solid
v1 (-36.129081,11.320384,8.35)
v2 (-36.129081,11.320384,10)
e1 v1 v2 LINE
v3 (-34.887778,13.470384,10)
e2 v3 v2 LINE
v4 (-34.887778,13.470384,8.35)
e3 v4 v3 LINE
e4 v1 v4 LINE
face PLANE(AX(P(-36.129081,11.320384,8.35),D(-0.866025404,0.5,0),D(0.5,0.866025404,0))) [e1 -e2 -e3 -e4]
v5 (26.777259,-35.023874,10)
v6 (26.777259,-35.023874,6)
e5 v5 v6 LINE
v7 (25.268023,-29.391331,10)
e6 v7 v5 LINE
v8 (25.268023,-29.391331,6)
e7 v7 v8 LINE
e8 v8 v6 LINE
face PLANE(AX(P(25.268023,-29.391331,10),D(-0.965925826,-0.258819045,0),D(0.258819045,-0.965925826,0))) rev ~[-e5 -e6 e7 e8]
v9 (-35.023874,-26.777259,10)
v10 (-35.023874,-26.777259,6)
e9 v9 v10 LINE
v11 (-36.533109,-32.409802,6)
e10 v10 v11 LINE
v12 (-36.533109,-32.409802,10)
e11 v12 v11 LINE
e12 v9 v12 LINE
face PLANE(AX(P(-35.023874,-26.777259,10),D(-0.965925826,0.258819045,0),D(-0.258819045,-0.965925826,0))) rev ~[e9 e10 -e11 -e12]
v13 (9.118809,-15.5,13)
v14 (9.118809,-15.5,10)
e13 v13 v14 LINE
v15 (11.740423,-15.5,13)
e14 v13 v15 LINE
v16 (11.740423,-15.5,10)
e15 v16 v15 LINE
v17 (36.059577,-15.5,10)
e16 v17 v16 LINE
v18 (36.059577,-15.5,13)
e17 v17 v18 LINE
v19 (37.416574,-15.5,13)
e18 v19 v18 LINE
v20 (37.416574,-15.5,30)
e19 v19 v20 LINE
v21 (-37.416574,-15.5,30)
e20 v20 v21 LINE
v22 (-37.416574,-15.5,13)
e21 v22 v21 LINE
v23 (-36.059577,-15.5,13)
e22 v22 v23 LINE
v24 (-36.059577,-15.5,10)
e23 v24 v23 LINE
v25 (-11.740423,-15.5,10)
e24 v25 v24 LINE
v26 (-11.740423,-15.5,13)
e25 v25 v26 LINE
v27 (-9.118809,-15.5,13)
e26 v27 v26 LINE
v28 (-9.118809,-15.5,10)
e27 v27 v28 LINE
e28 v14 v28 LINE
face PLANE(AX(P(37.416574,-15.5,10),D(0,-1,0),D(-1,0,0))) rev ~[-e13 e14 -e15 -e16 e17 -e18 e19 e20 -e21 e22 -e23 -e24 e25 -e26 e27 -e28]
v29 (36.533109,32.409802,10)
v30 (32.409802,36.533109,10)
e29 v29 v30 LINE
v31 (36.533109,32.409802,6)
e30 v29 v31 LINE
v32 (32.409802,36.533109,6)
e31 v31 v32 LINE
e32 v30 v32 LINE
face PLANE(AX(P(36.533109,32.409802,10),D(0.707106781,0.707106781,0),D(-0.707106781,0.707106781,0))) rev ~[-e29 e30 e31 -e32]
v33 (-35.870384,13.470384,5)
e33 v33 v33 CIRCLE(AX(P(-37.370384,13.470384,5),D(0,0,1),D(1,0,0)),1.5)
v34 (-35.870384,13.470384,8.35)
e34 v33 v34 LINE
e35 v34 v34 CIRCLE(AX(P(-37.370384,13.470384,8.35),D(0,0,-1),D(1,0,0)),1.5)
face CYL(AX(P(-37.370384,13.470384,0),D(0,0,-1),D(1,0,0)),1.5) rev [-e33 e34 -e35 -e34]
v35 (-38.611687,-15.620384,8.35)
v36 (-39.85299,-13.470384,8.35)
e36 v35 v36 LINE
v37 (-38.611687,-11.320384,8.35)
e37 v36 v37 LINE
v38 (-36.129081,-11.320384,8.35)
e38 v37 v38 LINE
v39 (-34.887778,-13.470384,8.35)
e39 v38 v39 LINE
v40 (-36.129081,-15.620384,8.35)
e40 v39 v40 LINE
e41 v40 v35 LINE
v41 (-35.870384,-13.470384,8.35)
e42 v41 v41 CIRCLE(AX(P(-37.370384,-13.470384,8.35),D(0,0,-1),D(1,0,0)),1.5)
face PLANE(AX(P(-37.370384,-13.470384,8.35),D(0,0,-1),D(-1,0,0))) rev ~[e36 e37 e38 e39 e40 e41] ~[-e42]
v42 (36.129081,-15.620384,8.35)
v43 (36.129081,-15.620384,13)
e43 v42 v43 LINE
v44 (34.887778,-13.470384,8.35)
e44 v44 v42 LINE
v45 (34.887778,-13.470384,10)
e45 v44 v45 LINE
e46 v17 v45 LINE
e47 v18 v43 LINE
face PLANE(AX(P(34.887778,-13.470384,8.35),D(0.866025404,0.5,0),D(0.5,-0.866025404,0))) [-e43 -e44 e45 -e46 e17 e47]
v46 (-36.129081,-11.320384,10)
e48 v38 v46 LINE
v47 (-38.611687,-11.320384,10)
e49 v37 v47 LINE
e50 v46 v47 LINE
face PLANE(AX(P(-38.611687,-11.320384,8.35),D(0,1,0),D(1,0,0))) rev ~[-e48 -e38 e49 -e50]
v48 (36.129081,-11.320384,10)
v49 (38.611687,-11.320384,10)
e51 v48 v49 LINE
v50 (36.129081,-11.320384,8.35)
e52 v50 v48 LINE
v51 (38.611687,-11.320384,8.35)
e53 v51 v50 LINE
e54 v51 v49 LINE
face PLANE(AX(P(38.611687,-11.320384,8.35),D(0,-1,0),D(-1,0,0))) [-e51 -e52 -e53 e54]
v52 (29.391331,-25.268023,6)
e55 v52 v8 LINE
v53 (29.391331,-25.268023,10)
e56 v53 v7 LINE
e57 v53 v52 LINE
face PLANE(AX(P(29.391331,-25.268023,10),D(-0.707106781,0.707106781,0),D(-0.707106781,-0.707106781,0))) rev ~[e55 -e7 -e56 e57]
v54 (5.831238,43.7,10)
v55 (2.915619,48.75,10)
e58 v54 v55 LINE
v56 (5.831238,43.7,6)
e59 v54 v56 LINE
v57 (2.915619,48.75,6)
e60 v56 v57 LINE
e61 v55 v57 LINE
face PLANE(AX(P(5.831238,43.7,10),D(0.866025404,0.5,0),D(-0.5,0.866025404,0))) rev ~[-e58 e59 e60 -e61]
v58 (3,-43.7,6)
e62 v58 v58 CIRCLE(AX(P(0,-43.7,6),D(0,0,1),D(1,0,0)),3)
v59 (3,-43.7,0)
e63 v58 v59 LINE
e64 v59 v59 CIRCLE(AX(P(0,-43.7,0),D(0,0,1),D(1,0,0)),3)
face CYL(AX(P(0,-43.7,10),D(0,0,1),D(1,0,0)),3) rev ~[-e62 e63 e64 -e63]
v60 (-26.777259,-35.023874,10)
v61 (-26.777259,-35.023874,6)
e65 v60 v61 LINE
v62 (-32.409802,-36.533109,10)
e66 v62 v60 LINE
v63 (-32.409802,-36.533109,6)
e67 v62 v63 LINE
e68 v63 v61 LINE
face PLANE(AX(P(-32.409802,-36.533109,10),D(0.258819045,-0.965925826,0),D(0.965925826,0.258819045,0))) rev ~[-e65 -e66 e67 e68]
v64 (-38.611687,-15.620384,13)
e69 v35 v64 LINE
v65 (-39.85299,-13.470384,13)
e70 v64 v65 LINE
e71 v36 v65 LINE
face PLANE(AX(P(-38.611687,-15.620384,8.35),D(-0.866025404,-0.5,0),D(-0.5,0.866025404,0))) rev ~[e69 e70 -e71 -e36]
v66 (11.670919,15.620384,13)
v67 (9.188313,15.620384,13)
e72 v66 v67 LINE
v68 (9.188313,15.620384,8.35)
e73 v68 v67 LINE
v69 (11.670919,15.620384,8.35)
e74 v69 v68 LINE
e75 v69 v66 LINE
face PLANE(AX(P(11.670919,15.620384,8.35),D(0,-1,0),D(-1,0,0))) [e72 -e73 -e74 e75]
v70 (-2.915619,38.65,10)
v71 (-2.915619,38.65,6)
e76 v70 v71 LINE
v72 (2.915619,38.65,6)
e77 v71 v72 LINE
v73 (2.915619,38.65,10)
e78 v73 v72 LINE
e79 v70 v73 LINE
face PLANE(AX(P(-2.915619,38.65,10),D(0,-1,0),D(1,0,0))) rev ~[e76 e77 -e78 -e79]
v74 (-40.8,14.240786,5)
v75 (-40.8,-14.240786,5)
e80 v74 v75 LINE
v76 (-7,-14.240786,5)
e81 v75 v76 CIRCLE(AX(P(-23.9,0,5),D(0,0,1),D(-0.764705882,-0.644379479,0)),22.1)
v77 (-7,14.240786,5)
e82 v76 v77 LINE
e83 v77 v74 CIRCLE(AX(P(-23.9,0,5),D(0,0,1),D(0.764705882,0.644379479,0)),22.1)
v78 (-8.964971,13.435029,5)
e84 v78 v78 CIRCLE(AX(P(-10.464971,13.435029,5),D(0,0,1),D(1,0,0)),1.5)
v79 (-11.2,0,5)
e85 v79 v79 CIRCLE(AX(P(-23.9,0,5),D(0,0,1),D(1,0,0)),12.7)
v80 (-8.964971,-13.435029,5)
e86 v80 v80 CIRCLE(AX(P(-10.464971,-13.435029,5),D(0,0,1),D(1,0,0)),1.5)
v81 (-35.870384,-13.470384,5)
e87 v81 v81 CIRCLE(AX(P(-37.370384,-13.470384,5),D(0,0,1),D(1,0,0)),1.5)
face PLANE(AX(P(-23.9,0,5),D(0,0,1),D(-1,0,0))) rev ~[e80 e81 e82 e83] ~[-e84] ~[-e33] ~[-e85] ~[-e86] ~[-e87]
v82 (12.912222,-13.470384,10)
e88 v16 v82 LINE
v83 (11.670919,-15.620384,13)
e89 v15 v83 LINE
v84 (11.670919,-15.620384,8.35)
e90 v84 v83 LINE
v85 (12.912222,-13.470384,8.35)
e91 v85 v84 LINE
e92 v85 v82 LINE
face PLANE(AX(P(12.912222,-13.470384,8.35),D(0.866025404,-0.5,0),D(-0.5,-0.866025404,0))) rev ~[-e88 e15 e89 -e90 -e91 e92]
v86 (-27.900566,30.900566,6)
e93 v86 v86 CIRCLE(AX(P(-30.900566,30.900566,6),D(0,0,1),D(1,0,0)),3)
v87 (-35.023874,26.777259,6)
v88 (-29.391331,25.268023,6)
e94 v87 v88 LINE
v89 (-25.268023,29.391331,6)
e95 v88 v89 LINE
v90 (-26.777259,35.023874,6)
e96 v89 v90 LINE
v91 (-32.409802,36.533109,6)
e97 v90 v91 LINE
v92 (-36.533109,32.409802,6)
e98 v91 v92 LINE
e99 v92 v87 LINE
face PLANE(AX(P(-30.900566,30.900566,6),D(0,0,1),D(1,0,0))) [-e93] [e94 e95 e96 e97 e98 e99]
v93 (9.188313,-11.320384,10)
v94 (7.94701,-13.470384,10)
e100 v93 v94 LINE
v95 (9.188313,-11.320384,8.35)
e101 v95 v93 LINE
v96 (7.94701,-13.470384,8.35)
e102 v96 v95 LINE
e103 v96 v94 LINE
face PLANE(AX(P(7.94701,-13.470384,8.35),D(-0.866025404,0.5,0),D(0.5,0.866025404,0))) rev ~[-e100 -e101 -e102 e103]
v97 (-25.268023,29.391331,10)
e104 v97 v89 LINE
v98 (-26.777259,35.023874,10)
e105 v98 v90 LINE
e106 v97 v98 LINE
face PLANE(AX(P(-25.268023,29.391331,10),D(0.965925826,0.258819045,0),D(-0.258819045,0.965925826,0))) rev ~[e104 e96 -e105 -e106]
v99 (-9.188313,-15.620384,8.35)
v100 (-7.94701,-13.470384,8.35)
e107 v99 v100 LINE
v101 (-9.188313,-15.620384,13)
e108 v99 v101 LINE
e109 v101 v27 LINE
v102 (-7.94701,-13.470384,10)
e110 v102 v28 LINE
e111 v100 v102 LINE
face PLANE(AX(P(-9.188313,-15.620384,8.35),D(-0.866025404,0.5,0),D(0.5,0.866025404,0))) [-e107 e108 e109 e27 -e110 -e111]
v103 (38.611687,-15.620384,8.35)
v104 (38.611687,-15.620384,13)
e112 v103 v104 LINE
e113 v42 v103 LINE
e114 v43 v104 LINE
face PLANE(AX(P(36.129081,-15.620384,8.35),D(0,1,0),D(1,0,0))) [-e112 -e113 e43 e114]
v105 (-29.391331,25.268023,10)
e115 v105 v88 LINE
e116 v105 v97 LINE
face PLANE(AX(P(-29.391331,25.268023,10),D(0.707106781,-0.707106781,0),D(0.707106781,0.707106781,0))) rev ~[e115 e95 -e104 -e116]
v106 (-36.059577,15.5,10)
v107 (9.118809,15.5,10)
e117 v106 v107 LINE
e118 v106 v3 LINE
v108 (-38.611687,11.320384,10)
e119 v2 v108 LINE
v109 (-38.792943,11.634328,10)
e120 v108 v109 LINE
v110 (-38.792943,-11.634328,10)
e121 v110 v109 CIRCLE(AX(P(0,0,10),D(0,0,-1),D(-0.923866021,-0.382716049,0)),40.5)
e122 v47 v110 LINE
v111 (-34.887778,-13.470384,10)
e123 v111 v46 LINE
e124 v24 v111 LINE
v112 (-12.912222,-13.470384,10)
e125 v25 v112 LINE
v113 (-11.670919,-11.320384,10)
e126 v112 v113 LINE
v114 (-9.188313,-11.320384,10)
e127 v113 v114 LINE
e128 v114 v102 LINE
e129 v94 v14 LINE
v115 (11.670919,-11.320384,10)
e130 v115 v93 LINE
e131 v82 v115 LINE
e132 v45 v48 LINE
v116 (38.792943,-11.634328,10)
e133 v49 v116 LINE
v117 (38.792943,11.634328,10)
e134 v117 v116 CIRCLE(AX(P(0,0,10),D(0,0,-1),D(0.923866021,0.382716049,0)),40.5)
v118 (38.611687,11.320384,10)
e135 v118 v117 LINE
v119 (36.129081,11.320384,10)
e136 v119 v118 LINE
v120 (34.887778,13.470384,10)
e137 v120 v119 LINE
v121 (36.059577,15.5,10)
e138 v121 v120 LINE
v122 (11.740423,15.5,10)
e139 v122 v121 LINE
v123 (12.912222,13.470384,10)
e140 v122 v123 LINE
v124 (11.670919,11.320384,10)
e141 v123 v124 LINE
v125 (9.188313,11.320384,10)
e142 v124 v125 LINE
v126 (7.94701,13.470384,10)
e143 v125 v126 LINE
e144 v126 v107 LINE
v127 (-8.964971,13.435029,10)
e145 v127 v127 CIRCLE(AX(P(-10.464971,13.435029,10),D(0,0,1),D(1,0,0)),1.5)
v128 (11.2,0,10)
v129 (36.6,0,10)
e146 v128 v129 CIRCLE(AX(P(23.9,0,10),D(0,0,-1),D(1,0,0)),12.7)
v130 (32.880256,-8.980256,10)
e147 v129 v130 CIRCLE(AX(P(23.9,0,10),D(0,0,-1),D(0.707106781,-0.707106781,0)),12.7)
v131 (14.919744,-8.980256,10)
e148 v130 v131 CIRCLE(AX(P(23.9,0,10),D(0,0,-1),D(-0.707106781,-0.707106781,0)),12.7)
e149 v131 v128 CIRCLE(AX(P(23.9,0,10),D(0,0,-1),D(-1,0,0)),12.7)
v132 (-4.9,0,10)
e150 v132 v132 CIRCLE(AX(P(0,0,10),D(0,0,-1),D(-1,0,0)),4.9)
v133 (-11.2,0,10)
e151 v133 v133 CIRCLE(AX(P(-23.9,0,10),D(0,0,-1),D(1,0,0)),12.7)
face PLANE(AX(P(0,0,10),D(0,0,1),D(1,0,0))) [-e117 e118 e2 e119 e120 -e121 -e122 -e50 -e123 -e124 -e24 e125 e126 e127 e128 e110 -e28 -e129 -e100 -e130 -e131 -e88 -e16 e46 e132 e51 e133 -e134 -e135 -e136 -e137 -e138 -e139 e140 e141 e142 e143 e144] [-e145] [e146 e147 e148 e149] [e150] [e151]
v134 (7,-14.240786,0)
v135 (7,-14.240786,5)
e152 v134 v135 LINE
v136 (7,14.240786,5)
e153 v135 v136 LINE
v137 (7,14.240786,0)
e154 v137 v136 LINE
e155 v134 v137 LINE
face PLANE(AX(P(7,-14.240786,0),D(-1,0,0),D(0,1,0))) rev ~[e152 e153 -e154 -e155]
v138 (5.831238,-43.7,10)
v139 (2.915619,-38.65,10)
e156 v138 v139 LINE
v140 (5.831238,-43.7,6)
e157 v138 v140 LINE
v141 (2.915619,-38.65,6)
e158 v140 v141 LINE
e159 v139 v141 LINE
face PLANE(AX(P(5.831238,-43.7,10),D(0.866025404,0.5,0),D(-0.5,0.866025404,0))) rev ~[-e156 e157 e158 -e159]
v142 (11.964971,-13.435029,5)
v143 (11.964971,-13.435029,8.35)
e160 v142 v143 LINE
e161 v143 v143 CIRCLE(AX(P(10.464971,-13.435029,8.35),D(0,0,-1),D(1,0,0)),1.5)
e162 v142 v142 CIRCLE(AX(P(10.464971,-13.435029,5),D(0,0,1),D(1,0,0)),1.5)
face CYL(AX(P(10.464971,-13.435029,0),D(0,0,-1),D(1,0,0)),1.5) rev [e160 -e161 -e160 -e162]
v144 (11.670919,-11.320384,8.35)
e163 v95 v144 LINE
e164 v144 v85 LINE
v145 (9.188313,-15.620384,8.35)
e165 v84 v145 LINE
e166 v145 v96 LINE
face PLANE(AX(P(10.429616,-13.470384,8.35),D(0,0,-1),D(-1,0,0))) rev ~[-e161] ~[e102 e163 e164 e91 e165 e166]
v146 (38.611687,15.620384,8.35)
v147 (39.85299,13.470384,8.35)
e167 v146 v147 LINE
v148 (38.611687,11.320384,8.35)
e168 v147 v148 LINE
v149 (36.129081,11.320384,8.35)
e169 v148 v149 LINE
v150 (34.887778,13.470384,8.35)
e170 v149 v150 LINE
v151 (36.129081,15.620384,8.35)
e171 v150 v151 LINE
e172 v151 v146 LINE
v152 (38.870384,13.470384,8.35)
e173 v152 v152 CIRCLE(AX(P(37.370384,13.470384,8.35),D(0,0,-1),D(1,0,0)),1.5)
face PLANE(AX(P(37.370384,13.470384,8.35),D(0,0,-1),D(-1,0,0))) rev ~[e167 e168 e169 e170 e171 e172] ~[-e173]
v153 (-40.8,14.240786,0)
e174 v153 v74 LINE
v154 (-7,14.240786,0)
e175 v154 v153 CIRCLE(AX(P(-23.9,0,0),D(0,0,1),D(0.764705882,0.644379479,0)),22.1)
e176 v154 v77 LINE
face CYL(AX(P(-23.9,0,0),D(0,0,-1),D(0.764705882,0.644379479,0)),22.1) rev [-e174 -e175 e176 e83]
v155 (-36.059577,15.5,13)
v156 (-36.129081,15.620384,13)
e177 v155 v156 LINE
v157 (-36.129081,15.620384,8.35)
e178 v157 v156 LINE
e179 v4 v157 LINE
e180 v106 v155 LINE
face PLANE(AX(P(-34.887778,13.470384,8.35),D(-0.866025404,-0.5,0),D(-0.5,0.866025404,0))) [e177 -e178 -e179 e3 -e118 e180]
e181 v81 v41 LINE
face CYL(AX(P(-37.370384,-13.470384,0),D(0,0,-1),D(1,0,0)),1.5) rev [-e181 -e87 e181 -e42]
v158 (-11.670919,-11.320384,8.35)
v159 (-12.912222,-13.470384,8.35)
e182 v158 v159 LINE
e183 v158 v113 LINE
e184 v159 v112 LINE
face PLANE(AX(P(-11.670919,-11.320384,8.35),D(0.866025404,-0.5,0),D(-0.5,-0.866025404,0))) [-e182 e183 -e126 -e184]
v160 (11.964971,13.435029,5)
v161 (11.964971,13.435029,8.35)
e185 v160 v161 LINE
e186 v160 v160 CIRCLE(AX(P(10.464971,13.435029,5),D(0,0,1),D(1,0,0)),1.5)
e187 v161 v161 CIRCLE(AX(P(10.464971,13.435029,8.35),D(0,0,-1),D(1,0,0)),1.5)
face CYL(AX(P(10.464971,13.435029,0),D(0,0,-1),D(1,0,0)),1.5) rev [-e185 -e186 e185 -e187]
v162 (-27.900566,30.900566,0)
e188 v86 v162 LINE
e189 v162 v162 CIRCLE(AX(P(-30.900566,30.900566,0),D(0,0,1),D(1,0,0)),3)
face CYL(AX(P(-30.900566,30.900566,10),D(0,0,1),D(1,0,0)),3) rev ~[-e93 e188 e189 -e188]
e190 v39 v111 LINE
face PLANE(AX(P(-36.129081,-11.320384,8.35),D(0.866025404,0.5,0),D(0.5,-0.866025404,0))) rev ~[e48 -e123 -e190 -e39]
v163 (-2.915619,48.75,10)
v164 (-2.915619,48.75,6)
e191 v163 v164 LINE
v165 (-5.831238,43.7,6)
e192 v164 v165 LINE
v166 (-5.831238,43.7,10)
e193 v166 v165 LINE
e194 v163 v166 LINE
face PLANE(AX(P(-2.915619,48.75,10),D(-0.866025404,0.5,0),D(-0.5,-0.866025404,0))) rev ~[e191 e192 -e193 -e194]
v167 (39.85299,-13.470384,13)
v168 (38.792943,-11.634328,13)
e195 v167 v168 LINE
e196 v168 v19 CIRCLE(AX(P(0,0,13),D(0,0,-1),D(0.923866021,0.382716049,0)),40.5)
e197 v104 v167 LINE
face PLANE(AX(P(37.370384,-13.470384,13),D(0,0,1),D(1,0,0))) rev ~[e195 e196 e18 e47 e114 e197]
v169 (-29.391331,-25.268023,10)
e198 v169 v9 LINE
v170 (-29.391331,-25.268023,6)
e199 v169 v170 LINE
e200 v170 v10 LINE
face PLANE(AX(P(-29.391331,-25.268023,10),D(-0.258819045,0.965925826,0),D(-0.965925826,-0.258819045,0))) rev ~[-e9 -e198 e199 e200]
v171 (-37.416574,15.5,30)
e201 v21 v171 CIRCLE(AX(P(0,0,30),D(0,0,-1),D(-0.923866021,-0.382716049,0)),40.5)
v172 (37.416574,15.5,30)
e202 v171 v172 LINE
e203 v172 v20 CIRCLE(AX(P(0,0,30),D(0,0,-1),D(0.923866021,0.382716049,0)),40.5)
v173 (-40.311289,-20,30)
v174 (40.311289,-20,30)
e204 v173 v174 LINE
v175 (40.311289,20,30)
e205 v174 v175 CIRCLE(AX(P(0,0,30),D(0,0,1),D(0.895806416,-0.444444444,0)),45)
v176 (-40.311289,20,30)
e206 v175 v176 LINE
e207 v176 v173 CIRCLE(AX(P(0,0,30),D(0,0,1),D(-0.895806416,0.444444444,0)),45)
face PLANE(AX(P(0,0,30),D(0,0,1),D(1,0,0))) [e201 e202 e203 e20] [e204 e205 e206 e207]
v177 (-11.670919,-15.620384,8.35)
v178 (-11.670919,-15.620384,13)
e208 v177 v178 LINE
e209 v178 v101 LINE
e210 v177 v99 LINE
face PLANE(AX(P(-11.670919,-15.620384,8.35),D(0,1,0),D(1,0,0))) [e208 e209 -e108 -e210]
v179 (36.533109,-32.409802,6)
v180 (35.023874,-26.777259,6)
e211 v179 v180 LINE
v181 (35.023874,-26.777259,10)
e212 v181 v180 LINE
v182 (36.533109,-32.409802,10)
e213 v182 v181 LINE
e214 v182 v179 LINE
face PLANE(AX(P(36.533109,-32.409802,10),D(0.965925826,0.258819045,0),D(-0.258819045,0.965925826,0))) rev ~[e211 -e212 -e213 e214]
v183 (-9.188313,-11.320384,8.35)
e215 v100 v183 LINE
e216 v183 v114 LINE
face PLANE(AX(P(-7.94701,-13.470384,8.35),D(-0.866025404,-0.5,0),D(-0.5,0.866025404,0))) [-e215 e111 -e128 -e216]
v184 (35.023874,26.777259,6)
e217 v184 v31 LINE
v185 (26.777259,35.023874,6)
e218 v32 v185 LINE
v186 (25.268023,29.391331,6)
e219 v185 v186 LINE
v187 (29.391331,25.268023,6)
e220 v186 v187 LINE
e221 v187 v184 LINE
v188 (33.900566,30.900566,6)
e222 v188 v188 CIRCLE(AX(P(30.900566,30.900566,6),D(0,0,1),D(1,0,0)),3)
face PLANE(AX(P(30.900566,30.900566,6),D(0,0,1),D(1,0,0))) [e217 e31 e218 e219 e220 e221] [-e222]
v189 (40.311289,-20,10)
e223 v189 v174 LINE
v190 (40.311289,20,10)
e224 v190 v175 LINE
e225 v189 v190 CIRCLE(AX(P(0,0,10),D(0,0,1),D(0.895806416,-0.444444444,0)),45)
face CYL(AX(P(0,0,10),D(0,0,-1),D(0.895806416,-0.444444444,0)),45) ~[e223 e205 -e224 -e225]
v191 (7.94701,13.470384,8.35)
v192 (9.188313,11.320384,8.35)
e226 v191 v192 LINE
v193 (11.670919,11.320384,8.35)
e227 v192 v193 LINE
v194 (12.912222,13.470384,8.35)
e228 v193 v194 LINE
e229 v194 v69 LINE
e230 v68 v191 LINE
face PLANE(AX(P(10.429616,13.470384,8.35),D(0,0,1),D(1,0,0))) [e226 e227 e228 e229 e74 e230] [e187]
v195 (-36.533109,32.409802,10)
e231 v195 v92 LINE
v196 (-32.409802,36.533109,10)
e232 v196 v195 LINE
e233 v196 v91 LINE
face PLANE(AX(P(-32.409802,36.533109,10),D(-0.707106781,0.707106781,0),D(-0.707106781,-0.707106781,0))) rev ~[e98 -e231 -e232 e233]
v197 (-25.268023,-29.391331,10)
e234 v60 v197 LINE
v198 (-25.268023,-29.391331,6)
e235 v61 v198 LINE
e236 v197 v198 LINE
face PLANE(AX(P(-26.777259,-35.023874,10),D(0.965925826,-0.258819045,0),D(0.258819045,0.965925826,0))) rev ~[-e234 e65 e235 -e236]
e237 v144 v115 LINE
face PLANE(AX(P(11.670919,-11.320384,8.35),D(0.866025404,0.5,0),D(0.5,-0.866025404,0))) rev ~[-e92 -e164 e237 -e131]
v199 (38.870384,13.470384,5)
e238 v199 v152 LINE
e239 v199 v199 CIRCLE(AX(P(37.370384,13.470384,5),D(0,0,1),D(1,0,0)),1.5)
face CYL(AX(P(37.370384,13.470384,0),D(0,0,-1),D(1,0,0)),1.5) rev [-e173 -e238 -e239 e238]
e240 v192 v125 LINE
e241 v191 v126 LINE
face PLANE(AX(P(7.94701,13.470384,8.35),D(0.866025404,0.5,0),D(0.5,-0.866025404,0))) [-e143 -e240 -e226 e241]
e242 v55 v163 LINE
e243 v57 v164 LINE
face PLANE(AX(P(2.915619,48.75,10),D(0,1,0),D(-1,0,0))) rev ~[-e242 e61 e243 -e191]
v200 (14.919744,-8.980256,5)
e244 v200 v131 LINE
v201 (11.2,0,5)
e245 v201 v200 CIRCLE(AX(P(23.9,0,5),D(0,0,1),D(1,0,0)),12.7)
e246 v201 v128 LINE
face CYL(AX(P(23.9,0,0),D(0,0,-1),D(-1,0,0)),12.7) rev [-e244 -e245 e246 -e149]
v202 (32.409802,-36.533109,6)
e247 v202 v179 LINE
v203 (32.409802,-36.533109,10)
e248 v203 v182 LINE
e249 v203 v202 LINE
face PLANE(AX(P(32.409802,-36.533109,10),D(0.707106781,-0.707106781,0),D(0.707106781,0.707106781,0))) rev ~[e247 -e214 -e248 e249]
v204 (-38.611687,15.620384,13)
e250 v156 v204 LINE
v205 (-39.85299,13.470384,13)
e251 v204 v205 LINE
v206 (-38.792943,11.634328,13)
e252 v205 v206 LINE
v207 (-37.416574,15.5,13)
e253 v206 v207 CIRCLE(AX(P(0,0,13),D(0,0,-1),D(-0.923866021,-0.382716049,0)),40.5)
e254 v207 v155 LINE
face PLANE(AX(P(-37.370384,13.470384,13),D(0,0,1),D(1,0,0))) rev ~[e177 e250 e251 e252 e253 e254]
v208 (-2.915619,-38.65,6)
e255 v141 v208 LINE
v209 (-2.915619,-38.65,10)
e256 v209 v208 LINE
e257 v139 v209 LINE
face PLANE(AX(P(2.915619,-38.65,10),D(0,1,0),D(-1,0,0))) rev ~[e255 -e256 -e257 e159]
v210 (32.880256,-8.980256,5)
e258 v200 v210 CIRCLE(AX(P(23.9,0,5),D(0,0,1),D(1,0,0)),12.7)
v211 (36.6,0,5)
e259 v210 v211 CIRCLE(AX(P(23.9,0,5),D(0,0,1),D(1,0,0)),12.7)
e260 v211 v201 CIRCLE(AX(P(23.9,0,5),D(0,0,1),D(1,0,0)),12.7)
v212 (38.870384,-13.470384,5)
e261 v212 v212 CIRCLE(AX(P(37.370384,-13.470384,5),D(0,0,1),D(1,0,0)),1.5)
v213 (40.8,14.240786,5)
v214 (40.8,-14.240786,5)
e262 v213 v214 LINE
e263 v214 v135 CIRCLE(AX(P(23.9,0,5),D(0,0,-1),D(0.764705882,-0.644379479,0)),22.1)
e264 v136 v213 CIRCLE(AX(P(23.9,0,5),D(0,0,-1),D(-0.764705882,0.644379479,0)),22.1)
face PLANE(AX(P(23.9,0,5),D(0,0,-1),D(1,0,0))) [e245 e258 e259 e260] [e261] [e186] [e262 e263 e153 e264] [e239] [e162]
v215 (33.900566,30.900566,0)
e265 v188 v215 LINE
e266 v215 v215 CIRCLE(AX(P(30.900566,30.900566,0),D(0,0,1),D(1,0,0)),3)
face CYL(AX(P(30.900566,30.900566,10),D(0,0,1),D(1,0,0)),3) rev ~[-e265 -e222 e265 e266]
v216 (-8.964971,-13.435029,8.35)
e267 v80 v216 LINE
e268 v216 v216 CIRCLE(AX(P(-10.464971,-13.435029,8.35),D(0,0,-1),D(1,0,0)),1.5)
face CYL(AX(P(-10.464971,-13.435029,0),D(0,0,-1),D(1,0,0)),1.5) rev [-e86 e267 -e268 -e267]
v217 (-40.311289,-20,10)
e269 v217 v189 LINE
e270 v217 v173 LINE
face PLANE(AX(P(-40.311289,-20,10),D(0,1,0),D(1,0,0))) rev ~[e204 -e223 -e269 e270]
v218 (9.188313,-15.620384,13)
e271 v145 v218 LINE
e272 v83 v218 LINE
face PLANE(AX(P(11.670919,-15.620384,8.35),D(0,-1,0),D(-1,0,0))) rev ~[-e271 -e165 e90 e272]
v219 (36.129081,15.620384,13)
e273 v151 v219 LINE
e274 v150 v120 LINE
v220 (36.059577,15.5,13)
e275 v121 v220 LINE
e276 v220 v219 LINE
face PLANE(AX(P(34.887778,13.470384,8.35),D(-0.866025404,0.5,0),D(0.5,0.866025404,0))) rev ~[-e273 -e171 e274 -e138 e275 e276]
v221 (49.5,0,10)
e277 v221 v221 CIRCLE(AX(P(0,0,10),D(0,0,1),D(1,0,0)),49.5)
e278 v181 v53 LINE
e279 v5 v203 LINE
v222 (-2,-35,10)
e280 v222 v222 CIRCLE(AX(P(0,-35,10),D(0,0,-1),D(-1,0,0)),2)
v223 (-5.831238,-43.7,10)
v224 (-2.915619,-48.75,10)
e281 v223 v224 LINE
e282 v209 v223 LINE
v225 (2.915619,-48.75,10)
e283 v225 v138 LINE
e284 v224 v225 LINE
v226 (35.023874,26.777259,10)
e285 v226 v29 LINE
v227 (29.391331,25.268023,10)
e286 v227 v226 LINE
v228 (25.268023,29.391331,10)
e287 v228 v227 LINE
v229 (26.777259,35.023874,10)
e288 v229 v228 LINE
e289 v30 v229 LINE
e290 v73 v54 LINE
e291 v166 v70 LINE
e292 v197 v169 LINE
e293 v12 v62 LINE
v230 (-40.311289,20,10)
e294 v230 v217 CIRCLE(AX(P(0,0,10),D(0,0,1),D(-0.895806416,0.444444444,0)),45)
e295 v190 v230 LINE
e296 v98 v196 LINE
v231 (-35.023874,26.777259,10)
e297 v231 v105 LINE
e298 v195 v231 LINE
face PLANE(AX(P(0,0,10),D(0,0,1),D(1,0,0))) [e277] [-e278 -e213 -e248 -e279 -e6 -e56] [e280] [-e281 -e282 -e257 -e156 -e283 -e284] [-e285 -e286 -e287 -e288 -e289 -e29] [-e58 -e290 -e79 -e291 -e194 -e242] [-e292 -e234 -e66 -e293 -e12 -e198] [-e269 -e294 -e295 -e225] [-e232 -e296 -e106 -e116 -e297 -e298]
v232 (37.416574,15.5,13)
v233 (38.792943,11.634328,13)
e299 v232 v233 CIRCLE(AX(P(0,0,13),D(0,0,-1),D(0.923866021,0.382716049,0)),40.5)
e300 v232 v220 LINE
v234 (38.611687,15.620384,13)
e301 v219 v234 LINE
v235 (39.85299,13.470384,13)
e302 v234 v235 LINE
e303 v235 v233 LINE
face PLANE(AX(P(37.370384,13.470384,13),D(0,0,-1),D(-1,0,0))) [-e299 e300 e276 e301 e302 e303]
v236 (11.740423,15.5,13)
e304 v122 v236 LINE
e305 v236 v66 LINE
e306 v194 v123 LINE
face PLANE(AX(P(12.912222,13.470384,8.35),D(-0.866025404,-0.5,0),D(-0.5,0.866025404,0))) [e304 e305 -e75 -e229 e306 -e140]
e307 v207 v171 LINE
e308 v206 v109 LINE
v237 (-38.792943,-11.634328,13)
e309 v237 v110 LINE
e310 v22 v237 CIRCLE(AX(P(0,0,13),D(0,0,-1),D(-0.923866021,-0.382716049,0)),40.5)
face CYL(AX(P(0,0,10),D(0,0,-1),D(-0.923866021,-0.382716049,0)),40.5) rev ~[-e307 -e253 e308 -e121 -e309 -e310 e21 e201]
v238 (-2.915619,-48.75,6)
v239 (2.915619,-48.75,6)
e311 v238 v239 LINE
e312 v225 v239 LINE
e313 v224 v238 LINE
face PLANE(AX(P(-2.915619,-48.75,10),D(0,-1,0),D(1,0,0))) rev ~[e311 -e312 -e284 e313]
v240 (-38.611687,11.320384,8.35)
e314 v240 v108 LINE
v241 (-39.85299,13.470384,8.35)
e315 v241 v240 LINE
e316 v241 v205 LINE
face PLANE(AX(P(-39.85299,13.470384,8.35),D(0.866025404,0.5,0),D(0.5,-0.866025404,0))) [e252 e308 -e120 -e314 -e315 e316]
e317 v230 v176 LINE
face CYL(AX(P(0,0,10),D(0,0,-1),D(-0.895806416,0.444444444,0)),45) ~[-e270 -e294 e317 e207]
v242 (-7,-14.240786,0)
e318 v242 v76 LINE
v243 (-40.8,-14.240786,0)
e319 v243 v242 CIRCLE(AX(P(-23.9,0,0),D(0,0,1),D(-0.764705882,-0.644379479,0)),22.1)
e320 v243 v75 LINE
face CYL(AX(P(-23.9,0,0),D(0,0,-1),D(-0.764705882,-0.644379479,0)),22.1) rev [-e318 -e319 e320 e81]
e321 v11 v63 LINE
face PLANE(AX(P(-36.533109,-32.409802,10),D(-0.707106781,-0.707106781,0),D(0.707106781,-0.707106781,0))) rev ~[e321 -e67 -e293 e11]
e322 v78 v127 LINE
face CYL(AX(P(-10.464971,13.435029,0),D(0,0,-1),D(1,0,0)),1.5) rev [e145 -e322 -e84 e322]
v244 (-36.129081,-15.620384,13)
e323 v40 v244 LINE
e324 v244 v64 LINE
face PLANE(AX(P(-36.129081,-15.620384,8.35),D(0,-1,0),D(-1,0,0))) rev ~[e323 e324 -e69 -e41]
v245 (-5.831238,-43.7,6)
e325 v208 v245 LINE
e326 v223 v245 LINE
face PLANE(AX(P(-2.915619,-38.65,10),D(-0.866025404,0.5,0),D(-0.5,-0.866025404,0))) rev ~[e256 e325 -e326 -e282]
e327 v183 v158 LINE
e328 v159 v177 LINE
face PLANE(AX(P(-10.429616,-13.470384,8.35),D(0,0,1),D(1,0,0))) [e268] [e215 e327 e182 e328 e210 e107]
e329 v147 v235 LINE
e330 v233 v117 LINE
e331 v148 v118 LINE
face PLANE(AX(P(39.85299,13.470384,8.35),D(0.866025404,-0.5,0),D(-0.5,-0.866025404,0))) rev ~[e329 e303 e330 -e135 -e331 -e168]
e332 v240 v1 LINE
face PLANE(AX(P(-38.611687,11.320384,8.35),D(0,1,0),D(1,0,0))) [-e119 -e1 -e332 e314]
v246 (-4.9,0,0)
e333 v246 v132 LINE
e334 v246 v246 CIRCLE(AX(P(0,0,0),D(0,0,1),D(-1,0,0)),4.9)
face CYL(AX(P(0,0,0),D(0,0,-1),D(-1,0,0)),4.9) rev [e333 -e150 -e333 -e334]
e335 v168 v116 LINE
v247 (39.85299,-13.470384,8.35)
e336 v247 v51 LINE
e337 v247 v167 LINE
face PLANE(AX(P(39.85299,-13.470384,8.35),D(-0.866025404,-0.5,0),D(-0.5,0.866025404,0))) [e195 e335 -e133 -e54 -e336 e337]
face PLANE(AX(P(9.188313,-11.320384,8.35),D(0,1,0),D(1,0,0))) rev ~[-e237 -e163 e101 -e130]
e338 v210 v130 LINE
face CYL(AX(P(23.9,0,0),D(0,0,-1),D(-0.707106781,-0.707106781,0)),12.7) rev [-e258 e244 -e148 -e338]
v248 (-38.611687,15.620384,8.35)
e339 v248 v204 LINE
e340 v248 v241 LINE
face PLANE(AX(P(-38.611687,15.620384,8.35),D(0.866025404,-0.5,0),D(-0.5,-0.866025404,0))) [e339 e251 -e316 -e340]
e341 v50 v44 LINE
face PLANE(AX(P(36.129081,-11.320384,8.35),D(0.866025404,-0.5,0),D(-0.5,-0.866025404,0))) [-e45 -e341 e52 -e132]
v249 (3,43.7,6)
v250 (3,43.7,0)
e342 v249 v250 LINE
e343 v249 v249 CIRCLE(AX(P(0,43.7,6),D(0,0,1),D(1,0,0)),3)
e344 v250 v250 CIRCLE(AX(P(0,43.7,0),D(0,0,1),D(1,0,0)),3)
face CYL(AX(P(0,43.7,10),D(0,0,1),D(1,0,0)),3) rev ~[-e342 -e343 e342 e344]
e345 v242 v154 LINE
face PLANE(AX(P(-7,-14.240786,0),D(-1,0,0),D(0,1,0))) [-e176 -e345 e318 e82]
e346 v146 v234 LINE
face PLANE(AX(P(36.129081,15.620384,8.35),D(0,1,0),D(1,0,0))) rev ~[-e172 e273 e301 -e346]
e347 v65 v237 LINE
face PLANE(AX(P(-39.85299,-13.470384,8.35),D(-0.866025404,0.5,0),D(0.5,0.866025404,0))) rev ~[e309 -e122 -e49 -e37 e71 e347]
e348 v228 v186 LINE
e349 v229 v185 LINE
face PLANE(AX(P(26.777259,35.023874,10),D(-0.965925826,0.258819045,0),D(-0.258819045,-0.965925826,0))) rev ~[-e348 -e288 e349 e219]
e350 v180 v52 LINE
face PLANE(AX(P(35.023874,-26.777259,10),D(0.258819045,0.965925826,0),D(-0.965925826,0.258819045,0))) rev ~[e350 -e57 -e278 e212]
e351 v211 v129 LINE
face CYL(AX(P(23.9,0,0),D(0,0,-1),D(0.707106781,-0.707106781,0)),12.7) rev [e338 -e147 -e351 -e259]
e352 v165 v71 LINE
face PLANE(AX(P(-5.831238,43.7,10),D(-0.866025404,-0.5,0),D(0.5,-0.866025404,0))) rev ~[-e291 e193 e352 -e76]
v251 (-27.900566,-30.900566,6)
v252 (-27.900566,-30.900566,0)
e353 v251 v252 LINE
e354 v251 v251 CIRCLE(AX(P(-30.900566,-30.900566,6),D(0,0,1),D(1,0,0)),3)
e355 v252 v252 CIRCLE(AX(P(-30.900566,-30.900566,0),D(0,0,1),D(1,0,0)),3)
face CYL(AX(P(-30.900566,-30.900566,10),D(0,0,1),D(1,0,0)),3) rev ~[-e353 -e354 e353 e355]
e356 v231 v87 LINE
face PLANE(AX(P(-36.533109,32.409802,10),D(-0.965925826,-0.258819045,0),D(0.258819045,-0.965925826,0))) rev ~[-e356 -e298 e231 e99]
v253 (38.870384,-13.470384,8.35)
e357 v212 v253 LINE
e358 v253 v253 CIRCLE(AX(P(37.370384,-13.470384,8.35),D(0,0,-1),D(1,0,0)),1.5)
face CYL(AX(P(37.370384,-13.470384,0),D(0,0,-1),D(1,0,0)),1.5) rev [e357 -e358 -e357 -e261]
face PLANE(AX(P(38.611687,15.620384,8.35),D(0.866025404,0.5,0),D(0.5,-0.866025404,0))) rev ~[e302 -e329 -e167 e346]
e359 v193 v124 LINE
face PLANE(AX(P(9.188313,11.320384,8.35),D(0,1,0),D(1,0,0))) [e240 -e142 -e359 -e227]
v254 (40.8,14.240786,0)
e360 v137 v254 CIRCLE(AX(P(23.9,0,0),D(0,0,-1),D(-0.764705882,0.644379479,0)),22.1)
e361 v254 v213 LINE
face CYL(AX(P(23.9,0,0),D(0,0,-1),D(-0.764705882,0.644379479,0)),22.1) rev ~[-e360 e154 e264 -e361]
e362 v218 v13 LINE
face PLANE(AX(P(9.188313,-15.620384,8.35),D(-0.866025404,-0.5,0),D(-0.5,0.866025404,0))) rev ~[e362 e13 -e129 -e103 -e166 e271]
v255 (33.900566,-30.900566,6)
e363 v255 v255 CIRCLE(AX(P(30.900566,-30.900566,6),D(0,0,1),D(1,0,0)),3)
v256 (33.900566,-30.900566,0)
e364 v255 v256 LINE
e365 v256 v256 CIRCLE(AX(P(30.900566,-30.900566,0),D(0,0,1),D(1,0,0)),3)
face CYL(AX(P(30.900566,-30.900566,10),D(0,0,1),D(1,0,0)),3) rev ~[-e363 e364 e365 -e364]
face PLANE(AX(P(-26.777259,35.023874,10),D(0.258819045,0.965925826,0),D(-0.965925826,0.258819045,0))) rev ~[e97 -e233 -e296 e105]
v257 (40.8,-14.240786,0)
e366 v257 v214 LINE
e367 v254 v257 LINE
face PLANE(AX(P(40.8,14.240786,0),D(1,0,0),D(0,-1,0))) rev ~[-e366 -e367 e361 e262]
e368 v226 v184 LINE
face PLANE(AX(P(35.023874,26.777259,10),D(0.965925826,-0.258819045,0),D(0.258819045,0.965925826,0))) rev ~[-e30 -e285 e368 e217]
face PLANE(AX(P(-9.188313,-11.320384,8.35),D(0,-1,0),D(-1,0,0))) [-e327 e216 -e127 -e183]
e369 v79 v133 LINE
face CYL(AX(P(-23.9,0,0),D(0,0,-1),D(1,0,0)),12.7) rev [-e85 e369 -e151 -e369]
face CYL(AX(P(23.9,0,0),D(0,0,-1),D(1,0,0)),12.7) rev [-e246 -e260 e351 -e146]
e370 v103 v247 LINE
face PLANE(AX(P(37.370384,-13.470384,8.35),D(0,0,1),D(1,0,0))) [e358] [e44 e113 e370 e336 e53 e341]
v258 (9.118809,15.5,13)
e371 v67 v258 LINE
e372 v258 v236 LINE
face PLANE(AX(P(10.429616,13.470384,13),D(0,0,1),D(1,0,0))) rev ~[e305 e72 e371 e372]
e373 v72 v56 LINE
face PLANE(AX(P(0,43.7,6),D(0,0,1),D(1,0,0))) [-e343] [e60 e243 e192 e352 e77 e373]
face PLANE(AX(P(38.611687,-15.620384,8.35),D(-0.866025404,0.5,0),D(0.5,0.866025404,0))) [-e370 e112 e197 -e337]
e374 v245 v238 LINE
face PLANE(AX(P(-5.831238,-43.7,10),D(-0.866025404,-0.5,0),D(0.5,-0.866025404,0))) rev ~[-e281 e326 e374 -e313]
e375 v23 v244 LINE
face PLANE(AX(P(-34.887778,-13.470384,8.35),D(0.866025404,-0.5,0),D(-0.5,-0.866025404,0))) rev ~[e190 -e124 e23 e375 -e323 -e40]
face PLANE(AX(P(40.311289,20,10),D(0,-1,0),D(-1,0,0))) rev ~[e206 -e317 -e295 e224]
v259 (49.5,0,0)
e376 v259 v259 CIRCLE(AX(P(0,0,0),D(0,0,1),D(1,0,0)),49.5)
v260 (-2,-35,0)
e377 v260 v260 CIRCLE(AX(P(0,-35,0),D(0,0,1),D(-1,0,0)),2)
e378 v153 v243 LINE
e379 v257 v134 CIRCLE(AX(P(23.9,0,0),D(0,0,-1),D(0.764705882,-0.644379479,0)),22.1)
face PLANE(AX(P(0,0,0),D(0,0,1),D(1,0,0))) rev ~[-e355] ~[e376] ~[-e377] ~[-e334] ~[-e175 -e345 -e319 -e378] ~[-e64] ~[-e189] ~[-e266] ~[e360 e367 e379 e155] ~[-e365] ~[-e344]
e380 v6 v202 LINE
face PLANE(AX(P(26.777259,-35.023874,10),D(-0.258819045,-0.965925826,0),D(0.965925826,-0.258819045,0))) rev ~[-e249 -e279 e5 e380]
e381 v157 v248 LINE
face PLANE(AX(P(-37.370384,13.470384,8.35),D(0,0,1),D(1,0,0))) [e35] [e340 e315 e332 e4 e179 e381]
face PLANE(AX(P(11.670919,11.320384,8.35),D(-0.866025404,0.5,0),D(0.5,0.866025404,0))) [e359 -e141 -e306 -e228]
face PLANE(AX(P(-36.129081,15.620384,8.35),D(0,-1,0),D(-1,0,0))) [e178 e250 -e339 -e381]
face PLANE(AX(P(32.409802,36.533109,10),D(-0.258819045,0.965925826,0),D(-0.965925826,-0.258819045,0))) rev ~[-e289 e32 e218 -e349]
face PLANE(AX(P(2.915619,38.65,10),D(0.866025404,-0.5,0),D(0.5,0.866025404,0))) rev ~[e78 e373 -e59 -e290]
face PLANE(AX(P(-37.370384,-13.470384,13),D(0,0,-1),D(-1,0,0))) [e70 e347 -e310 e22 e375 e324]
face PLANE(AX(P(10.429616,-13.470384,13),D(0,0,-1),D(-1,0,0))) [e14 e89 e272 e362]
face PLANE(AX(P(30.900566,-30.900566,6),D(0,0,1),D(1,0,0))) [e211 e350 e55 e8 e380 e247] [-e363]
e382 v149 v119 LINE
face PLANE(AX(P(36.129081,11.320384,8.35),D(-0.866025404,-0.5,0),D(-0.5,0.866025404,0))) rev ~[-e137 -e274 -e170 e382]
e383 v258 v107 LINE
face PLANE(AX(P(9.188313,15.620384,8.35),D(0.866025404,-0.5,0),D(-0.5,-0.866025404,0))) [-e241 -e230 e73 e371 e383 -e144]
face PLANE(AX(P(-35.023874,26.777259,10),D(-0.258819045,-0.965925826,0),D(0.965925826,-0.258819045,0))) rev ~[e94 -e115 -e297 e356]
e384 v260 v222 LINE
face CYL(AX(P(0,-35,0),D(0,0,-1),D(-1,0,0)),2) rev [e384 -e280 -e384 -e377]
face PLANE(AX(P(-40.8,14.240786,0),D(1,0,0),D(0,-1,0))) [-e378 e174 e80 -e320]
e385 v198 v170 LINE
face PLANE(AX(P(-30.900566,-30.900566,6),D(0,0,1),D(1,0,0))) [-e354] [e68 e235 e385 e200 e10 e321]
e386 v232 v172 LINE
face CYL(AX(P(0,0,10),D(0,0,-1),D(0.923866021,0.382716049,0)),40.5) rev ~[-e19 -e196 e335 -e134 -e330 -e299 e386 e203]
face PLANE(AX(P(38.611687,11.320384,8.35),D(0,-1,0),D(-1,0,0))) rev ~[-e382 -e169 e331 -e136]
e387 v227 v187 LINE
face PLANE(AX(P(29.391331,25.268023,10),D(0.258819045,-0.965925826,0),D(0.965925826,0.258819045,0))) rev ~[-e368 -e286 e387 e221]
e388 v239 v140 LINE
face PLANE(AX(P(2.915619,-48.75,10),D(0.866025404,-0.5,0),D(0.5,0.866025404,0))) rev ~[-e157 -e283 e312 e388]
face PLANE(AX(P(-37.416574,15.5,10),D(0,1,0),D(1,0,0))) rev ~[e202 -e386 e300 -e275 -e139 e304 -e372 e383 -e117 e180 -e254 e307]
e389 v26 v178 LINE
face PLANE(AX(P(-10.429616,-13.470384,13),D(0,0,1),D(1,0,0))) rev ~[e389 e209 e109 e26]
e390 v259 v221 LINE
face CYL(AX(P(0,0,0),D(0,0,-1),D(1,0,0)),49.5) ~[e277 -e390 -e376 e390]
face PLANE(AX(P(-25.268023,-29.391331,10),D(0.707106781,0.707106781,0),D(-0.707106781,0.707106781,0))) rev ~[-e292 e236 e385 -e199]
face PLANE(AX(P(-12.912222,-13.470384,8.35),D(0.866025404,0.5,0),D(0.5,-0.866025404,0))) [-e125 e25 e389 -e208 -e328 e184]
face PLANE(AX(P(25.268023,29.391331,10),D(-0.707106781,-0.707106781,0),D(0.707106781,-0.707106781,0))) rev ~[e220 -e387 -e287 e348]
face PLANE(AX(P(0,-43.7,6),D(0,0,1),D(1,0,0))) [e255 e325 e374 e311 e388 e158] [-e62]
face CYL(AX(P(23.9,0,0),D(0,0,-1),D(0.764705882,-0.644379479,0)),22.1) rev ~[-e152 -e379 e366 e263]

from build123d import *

# Parameters (mm, degrees)
SKETCH2_R               = 49.5
BOSS_EXTRUDE1_DEPTH     = 10
SKETCH1_R               = 1.5
SKETCH1_R_2             = 12.7
CUT_EXTRUDE1_DEPTH      = 5
SKETCH1_12_R            = 4.9
SKETCH1_12_R_2          = 2
CUT_EXTRUDE2_DEPTH      = 45
SKETCH1_13_R            = 1.5
CUT_EXTRUDE3_DEPTH      = 10
BOSS_EXTRUDE2_DEPTH     = 20
SKETCH5_R               = 3
CUT_EXTRUDE4_DEPTH      = 20
SKETCH6_R               = 3
CUT_EXTRUDE5_DEPTH      = 4
CUT_EXTRUDE6_DEPTH      = 3
CUT_EXTRUDE6_DEPTH_BACK = 1.65


with BuildPart() as part:
    # Sketch2 → Boss-Extrude1 (new body)
    with BuildSketch(Plane.XY):
        Circle(SKETCH2_R)
    extrude(amount=BOSS_EXTRUDE1_DEPTH)

    # Sketch1 → Cut-Extrude1 (cut)
    # profile 1 of 2: a face of its own
    with BuildSketch(Plane(origin=(0, 0, 0), x_dir=(-1, 0, 0), z_dir=(0, 0, 1))):
        with BuildLine():
            Line((-7, 14.240786495), (-7, -14.240786495))
            ThreePointArc((-7, -14.240786495), (-23.9, -22.1), (-40.8, -14.240786495))
            Line((-40.8, -14.240786495), (-40.8, 14.240786495))
            ThreePointArc((-40.8, 14.240786495), (-23.9, 22.1), (-7, 14.240786495))
        make_face()
        with Locations(Location((-37.370384182, 13.470384182, 0), (0, 0, 180))):
            Circle(SKETCH1_R, mode=Mode.SUBTRACT)
        with Locations(Location((-10.464971157, 13.435028843, 0), (0, 0, 180))):
            Circle(SKETCH1_R, mode=Mode.SUBTRACT)
        with Locations(Location((-10.464971157, -13.435028843, 0), (0, 0, 180))):
            Circle(SKETCH1_R, mode=Mode.SUBTRACT)
        with Locations(Location((-37.370384182, -13.470384182, 0), (0, 0, 180))):
            Circle(SKETCH1_R, mode=Mode.SUBTRACT)
        with Locations(Location((-23.9, 0, 0), (0, 0, 180))):
            Circle(SKETCH1_R_2, mode=Mode.SUBTRACT)
    # profile 2 of 2: a face of its own
    with BuildSketch(Plane(origin=(0, 0, 0), x_dir=(-1, 0, 0), z_dir=(0, 0, 1))):
        with BuildLine():
            Line((7, 14.240786495), (7, -14.240786495))
            ThreePointArc((7, -14.240786495), (23.9, -22.1), (40.8, -14.240786495))
            Line((40.8, -14.240786495), (40.8, 14.240786495))
            ThreePointArc((40.8, 14.240786495), (23.9, 22.1), (7, 14.240786495))
        make_face()
        with Locations(Location((10.464971157, 13.435028843, 0), (0, 0, 180))):
            Circle(SKETCH1_R, mode=Mode.SUBTRACT)
        with Locations(Location((10.464971157, -13.435028843, 0), (0, 0, 180))):
            Circle(SKETCH1_R, mode=Mode.SUBTRACT)
        with Locations(Location((37.370384182, -13.470384182, 0), (0, 0, 180))):
            Circle(SKETCH1_R, mode=Mode.SUBTRACT)
        with Locations(Location((37.370384182, 13.470384182, 0), (0, 0, 180))):
            Circle(SKETCH1_R, mode=Mode.SUBTRACT)
        with Locations(Location((23.9, 0, 0), (0, 0, 180))):
            Circle(SKETCH1_R_2, mode=Mode.SUBTRACT)
    extrude(amount=CUT_EXTRUDE1_DEPTH, mode=Mode.SUBTRACT)

    # Sketch1<12> → Cut-Extrude2 (cut)
    with BuildSketch(Plane(origin=(0, 0, 0), x_dir=(-1, 0, 0), z_dir=(0, 0, 1))):
        Circle(SKETCH1_12_R)
        with Locations((0, 35)):
            Circle(SKETCH1_12_R_2)
        with BuildLine():
            Line((-11.2, 0), (-23.9, 0))
            Line((-23.9, 0), (-36.6, 0))
            ThreePointArc((-36.6, 0), (-23.9, -12.7), (-11.2, 0))
        make_face()
        with BuildLine():
            Line((-14.919743879, 8.980256121), (-23.9, 0))
            Line((-23.9, 0), (-11.2, 0))
            ThreePointArc((-11.2, 0), (-12.166729937, 4.860079591), (-14.919743879, 8.980256121))
        make_face()
        with BuildLine():
            Line((-32.880256121, 8.980256121), (-23.9, 0))
            Line((-23.9, 0), (-14.919743879, 8.980256121))
            ThreePointArc((-14.919743879, 8.980256121), (-23.9, 12.7), (-32.880256121, 8.980256121))
        make_face()
        with BuildLine():
            Line((-36.6, 0), (-23.9, 0))
            Line((-23.9, 0), (-32.880256121, 8.980256121))
            ThreePointArc((-32.880256121, 8.980256121), (-35.633270063, 4.860079591), (-36.6, 0))
        make_face()
        with BuildLine():
            Line((11.2, 0), (23.9, 0))
            Line((23.9, 0), (36.6, 0))
            ThreePointArc((36.6, 0), (23.9, 12.7), (11.2, 0))
        make_face()
        with BuildLine():
            Line((36.6, 0), (23.9, 0))
            Line((23.9, 0), (11.2, 0))
            ThreePointArc((11.2, 0), (23.9, -12.7), (36.6, 0))
        make_face()
    extrude(amount=CUT_EXTRUDE2_DEPTH, mode=Mode.SUBTRACT)

    # Sketch1<13> → Cut-Extrude3 (cut)
    with BuildSketch(Plane(origin=(0, 0, 0), x_dir=(-1, 0, 0), z_dir=(0, 0, 1))):
        with Locations(Location((-37.370384182, 13.470384182, 0), (0, 0, 180))):
            Circle(SKETCH1_13_R)
        with Locations(Location((-10.464971157, 13.435028843, 0), (0, 0, 180))):
            Circle(SKETCH1_13_R)
        with Locations(Location((-10.464971157, -13.435028843, 0), (0, 0, 180))):
            Circle(SKETCH1_13_R)
        with Locations(Location((-37.370384182, -13.470384182, 0), (0, 0, 180))):
            Circle(SKETCH1_13_R)
        with Locations(Location((10.464971157, 13.435028843, 0), (0, 0, 180))):
            Circle(SKETCH1_13_R)
        with Locations(Location((10.464971157, -13.435028843, 0), (0, 0, 180))):
            Circle(SKETCH1_13_R)
        with Locations(Location((37.370384182, -13.470384182, 0), (0, 0, 180))):
            Circle(SKETCH1_13_R)
        with Locations(Location((37.370384182, 13.470384182, 0), (0, 0, 180))):
            Circle(SKETCH1_13_R)
    extrude(amount=CUT_EXTRUDE3_DEPTH, mode=Mode.SUBTRACT)

    # Sketch4 → Boss-Extrude2 (add)
    with BuildSketch(Plane.XY.offset(10)):
        with BuildLine():
            Line((-40.311288741, -20), (40.311288741, -20))
            ThreePointArc((40.311288741, -20), (45, 0), (40.311288741, 20))
            Line((40.311288741, 20), (-40.311288741, 20))
            ThreePointArc((-40.311288741, 20), (-45, 0), (-40.311288741, -20))
        make_face()
        with BuildLine():
            Line((37.416573868, -15.5), (-37.416573868, -15.5))
            ThreePointArc((-37.416573868, -15.5), (-40.5, 0), (-37.416573868, 15.5))
            Line((-37.416573868, 15.5), (37.416573868, 15.5))
            ThreePointArc((37.416573868, 15.5), (40.5, 0), (37.416573868, -15.5))
        make_face(mode=Mode.SUBTRACT)
    extrude(amount=BOSS_EXTRUDE2_DEPTH)

    # Sketch5 → Cut-Extrude4 (cut)
    with BuildSketch(Plane.XY.offset(10)):
        with Locations((0, 43.7)):
            Circle(SKETCH5_R)
        with Locations((30.900566338, 30.900566338)):
            Circle(SKETCH5_R)
        with Locations((30.900566338, -30.900566338)):
            Circle(SKETCH5_R)
        with Locations((0, -43.7)):
            Circle(SKETCH5_R)
        with Locations((-30.900566338, -30.900566338)):
            Circle(SKETCH5_R)
        with Locations((-30.900566338, 30.900566338)):
            Circle(SKETCH5_R)
    extrude(amount=-CUT_EXTRUDE4_DEPTH, mode=Mode.SUBTRACT)

    # Sketch6 → Cut-Extrude5 (cut)
    # profile 1 of 6: a face of its own
    with BuildSketch(Plane.XY.offset(10)):
        Polygon((-2.915618859, 38.65), (2.915618859, 38.65), (5.831237719, 43.7), (2.915618859, 48.75), (-2.915618859, 48.75), (-5.831237719, 43.7), align=None)
        with Locations((0, 43.7)):
            Circle(SKETCH6_R, mode=Mode.SUBTRACT)
    # profile 2 of 6: a face of its own
    with BuildSketch(Plane.XY.offset(10)):
        Polygon((25.268023226, 29.39133096), (29.39133096, 25.268023226), (35.023874072, 26.777258604), (36.53310945, 32.409801716), (32.409801716, 36.53310945), (26.777258604, 35.023874072), align=None)
        with Locations((30.900566338, 30.900566338)):
            Circle(SKETCH6_R, mode=Mode.SUBTRACT)
    # profile 3 of 6: a face of its own
    with BuildSketch(Plane.XY.offset(10)):
        Polygon((29.39133096, -25.268023226), (25.268023226, -29.39133096), (26.777258604, -35.023874072), (32.409801716, -36.53310945), (36.53310945, -32.409801716), (35.023874072, -26.777258604), align=None)
        with Locations((30.900566338, -30.900566338)):
            Circle(SKETCH6_R, mode=Mode.SUBTRACT)
    # profile 4 of 6: a face of its own
    with BuildSketch(Plane.XY.offset(10)):
        Polygon((2.915618859, -38.65), (-2.915618859, -38.65), (-5.831237719, -43.7), (-2.915618859, -48.75), (2.915618859, -48.75), (5.831237719, -43.7), align=None)
        with Locations((0, -43.7)):
            Circle(SKETCH6_R, mode=Mode.SUBTRACT)
    # profile 5 of 6: a face of its own
    with BuildSketch(Plane.XY.offset(10)):
        Polygon((-25.268023226, -29.39133096), (-29.39133096, -25.268023226), (-35.023874072, -26.777258604), (-36.53310945, -32.409801716), (-32.409801716, -36.53310945), (-26.777258604, -35.023874072), align=None)
        with Locations((-30.900566338, -30.900566338)):
            Circle(SKETCH6_R, mode=Mode.SUBTRACT)
    # profile 6 of 6: a face of its own
    with BuildSketch(Plane.XY.offset(10)):
        Polygon((-26.777258604, 35.023874072), (-32.409801716, 36.53310945), (-36.53310945, 32.409801716), (-35.023874072, 26.777258604), (-29.39133096, 25.268023226), (-25.268023226, 29.39133096), align=None)
    extrude(amount=-CUT_EXTRUDE5_DEPTH, mode=Mode.SUBTRACT)

    # Sketch7 → Cut-Extrude6 (cut, two sides: drawn at the far end of the back side and taken through both)
    with BuildSketch(Plane.XY.offset(10).offset(-CUT_EXTRUDE6_DEPTH_BACK)):
        Polygon((-34.887778024, 13.470384182), (-36.129081103, 15.620384182), (-38.61168726, 15.620384182), (-39.852990339, 13.470384182), (-38.61168726, 11.320384182), (-36.129081103, 11.320384182), align=None)
        Polygon((-9.18831274, -11.320384182), (-11.670918897, -11.320384182), (-12.912221976, -13.470384182), (-11.670918897, -15.620384182), (-9.18831274, -15.620384182), (-7.947009661, -13.470384182), align=None)
        Polygon((-36.129081103, -11.320384182), (-34.887778024, -13.470384182), (-36.129081103, -15.620384182), (-38.61168726, -15.620384182), (-39.852990339, -13.470384182), (-38.61168726, -11.320384182), align=None)
        Polygon((36.129081103, 11.320384182), (34.887778024, 13.470384182), (36.129081103, 15.620384182), (38.61168726, 15.620384182), (39.852990339, 13.470384182), (38.61168726, 11.320384182), align=None)
        Polygon((9.18831274, 11.320384182), (11.670918897, 11.320384182), (12.912221976, 13.470384182), (11.670918897, 15.620384182), (9.18831274, 15.620384182), (7.947009661, 13.470384182), align=None)
        Polygon((7.947009661, -13.470384182), (9.18831274, -11.320384182), (11.670918897, -11.320384182), (12.912221976, -13.470384182), (11.670918897, -15.620384182), (9.18831274, -15.620384182), align=None)
        Polygon((38.61168726, -11.320384182), (36.129081103, -11.320384182), (34.887778024, -13.470384182), (36.129081103, -15.620384182), (38.61168726, -15.620384182), (39.852990339, -13.470384182), align=None)
    extrude(amount=CUT_EXTRUDE6_DEPTH + CUT_EXTRUDE6_DEPTH_BACK, mode=Mode.SUBTRACT)


solid = part.part
